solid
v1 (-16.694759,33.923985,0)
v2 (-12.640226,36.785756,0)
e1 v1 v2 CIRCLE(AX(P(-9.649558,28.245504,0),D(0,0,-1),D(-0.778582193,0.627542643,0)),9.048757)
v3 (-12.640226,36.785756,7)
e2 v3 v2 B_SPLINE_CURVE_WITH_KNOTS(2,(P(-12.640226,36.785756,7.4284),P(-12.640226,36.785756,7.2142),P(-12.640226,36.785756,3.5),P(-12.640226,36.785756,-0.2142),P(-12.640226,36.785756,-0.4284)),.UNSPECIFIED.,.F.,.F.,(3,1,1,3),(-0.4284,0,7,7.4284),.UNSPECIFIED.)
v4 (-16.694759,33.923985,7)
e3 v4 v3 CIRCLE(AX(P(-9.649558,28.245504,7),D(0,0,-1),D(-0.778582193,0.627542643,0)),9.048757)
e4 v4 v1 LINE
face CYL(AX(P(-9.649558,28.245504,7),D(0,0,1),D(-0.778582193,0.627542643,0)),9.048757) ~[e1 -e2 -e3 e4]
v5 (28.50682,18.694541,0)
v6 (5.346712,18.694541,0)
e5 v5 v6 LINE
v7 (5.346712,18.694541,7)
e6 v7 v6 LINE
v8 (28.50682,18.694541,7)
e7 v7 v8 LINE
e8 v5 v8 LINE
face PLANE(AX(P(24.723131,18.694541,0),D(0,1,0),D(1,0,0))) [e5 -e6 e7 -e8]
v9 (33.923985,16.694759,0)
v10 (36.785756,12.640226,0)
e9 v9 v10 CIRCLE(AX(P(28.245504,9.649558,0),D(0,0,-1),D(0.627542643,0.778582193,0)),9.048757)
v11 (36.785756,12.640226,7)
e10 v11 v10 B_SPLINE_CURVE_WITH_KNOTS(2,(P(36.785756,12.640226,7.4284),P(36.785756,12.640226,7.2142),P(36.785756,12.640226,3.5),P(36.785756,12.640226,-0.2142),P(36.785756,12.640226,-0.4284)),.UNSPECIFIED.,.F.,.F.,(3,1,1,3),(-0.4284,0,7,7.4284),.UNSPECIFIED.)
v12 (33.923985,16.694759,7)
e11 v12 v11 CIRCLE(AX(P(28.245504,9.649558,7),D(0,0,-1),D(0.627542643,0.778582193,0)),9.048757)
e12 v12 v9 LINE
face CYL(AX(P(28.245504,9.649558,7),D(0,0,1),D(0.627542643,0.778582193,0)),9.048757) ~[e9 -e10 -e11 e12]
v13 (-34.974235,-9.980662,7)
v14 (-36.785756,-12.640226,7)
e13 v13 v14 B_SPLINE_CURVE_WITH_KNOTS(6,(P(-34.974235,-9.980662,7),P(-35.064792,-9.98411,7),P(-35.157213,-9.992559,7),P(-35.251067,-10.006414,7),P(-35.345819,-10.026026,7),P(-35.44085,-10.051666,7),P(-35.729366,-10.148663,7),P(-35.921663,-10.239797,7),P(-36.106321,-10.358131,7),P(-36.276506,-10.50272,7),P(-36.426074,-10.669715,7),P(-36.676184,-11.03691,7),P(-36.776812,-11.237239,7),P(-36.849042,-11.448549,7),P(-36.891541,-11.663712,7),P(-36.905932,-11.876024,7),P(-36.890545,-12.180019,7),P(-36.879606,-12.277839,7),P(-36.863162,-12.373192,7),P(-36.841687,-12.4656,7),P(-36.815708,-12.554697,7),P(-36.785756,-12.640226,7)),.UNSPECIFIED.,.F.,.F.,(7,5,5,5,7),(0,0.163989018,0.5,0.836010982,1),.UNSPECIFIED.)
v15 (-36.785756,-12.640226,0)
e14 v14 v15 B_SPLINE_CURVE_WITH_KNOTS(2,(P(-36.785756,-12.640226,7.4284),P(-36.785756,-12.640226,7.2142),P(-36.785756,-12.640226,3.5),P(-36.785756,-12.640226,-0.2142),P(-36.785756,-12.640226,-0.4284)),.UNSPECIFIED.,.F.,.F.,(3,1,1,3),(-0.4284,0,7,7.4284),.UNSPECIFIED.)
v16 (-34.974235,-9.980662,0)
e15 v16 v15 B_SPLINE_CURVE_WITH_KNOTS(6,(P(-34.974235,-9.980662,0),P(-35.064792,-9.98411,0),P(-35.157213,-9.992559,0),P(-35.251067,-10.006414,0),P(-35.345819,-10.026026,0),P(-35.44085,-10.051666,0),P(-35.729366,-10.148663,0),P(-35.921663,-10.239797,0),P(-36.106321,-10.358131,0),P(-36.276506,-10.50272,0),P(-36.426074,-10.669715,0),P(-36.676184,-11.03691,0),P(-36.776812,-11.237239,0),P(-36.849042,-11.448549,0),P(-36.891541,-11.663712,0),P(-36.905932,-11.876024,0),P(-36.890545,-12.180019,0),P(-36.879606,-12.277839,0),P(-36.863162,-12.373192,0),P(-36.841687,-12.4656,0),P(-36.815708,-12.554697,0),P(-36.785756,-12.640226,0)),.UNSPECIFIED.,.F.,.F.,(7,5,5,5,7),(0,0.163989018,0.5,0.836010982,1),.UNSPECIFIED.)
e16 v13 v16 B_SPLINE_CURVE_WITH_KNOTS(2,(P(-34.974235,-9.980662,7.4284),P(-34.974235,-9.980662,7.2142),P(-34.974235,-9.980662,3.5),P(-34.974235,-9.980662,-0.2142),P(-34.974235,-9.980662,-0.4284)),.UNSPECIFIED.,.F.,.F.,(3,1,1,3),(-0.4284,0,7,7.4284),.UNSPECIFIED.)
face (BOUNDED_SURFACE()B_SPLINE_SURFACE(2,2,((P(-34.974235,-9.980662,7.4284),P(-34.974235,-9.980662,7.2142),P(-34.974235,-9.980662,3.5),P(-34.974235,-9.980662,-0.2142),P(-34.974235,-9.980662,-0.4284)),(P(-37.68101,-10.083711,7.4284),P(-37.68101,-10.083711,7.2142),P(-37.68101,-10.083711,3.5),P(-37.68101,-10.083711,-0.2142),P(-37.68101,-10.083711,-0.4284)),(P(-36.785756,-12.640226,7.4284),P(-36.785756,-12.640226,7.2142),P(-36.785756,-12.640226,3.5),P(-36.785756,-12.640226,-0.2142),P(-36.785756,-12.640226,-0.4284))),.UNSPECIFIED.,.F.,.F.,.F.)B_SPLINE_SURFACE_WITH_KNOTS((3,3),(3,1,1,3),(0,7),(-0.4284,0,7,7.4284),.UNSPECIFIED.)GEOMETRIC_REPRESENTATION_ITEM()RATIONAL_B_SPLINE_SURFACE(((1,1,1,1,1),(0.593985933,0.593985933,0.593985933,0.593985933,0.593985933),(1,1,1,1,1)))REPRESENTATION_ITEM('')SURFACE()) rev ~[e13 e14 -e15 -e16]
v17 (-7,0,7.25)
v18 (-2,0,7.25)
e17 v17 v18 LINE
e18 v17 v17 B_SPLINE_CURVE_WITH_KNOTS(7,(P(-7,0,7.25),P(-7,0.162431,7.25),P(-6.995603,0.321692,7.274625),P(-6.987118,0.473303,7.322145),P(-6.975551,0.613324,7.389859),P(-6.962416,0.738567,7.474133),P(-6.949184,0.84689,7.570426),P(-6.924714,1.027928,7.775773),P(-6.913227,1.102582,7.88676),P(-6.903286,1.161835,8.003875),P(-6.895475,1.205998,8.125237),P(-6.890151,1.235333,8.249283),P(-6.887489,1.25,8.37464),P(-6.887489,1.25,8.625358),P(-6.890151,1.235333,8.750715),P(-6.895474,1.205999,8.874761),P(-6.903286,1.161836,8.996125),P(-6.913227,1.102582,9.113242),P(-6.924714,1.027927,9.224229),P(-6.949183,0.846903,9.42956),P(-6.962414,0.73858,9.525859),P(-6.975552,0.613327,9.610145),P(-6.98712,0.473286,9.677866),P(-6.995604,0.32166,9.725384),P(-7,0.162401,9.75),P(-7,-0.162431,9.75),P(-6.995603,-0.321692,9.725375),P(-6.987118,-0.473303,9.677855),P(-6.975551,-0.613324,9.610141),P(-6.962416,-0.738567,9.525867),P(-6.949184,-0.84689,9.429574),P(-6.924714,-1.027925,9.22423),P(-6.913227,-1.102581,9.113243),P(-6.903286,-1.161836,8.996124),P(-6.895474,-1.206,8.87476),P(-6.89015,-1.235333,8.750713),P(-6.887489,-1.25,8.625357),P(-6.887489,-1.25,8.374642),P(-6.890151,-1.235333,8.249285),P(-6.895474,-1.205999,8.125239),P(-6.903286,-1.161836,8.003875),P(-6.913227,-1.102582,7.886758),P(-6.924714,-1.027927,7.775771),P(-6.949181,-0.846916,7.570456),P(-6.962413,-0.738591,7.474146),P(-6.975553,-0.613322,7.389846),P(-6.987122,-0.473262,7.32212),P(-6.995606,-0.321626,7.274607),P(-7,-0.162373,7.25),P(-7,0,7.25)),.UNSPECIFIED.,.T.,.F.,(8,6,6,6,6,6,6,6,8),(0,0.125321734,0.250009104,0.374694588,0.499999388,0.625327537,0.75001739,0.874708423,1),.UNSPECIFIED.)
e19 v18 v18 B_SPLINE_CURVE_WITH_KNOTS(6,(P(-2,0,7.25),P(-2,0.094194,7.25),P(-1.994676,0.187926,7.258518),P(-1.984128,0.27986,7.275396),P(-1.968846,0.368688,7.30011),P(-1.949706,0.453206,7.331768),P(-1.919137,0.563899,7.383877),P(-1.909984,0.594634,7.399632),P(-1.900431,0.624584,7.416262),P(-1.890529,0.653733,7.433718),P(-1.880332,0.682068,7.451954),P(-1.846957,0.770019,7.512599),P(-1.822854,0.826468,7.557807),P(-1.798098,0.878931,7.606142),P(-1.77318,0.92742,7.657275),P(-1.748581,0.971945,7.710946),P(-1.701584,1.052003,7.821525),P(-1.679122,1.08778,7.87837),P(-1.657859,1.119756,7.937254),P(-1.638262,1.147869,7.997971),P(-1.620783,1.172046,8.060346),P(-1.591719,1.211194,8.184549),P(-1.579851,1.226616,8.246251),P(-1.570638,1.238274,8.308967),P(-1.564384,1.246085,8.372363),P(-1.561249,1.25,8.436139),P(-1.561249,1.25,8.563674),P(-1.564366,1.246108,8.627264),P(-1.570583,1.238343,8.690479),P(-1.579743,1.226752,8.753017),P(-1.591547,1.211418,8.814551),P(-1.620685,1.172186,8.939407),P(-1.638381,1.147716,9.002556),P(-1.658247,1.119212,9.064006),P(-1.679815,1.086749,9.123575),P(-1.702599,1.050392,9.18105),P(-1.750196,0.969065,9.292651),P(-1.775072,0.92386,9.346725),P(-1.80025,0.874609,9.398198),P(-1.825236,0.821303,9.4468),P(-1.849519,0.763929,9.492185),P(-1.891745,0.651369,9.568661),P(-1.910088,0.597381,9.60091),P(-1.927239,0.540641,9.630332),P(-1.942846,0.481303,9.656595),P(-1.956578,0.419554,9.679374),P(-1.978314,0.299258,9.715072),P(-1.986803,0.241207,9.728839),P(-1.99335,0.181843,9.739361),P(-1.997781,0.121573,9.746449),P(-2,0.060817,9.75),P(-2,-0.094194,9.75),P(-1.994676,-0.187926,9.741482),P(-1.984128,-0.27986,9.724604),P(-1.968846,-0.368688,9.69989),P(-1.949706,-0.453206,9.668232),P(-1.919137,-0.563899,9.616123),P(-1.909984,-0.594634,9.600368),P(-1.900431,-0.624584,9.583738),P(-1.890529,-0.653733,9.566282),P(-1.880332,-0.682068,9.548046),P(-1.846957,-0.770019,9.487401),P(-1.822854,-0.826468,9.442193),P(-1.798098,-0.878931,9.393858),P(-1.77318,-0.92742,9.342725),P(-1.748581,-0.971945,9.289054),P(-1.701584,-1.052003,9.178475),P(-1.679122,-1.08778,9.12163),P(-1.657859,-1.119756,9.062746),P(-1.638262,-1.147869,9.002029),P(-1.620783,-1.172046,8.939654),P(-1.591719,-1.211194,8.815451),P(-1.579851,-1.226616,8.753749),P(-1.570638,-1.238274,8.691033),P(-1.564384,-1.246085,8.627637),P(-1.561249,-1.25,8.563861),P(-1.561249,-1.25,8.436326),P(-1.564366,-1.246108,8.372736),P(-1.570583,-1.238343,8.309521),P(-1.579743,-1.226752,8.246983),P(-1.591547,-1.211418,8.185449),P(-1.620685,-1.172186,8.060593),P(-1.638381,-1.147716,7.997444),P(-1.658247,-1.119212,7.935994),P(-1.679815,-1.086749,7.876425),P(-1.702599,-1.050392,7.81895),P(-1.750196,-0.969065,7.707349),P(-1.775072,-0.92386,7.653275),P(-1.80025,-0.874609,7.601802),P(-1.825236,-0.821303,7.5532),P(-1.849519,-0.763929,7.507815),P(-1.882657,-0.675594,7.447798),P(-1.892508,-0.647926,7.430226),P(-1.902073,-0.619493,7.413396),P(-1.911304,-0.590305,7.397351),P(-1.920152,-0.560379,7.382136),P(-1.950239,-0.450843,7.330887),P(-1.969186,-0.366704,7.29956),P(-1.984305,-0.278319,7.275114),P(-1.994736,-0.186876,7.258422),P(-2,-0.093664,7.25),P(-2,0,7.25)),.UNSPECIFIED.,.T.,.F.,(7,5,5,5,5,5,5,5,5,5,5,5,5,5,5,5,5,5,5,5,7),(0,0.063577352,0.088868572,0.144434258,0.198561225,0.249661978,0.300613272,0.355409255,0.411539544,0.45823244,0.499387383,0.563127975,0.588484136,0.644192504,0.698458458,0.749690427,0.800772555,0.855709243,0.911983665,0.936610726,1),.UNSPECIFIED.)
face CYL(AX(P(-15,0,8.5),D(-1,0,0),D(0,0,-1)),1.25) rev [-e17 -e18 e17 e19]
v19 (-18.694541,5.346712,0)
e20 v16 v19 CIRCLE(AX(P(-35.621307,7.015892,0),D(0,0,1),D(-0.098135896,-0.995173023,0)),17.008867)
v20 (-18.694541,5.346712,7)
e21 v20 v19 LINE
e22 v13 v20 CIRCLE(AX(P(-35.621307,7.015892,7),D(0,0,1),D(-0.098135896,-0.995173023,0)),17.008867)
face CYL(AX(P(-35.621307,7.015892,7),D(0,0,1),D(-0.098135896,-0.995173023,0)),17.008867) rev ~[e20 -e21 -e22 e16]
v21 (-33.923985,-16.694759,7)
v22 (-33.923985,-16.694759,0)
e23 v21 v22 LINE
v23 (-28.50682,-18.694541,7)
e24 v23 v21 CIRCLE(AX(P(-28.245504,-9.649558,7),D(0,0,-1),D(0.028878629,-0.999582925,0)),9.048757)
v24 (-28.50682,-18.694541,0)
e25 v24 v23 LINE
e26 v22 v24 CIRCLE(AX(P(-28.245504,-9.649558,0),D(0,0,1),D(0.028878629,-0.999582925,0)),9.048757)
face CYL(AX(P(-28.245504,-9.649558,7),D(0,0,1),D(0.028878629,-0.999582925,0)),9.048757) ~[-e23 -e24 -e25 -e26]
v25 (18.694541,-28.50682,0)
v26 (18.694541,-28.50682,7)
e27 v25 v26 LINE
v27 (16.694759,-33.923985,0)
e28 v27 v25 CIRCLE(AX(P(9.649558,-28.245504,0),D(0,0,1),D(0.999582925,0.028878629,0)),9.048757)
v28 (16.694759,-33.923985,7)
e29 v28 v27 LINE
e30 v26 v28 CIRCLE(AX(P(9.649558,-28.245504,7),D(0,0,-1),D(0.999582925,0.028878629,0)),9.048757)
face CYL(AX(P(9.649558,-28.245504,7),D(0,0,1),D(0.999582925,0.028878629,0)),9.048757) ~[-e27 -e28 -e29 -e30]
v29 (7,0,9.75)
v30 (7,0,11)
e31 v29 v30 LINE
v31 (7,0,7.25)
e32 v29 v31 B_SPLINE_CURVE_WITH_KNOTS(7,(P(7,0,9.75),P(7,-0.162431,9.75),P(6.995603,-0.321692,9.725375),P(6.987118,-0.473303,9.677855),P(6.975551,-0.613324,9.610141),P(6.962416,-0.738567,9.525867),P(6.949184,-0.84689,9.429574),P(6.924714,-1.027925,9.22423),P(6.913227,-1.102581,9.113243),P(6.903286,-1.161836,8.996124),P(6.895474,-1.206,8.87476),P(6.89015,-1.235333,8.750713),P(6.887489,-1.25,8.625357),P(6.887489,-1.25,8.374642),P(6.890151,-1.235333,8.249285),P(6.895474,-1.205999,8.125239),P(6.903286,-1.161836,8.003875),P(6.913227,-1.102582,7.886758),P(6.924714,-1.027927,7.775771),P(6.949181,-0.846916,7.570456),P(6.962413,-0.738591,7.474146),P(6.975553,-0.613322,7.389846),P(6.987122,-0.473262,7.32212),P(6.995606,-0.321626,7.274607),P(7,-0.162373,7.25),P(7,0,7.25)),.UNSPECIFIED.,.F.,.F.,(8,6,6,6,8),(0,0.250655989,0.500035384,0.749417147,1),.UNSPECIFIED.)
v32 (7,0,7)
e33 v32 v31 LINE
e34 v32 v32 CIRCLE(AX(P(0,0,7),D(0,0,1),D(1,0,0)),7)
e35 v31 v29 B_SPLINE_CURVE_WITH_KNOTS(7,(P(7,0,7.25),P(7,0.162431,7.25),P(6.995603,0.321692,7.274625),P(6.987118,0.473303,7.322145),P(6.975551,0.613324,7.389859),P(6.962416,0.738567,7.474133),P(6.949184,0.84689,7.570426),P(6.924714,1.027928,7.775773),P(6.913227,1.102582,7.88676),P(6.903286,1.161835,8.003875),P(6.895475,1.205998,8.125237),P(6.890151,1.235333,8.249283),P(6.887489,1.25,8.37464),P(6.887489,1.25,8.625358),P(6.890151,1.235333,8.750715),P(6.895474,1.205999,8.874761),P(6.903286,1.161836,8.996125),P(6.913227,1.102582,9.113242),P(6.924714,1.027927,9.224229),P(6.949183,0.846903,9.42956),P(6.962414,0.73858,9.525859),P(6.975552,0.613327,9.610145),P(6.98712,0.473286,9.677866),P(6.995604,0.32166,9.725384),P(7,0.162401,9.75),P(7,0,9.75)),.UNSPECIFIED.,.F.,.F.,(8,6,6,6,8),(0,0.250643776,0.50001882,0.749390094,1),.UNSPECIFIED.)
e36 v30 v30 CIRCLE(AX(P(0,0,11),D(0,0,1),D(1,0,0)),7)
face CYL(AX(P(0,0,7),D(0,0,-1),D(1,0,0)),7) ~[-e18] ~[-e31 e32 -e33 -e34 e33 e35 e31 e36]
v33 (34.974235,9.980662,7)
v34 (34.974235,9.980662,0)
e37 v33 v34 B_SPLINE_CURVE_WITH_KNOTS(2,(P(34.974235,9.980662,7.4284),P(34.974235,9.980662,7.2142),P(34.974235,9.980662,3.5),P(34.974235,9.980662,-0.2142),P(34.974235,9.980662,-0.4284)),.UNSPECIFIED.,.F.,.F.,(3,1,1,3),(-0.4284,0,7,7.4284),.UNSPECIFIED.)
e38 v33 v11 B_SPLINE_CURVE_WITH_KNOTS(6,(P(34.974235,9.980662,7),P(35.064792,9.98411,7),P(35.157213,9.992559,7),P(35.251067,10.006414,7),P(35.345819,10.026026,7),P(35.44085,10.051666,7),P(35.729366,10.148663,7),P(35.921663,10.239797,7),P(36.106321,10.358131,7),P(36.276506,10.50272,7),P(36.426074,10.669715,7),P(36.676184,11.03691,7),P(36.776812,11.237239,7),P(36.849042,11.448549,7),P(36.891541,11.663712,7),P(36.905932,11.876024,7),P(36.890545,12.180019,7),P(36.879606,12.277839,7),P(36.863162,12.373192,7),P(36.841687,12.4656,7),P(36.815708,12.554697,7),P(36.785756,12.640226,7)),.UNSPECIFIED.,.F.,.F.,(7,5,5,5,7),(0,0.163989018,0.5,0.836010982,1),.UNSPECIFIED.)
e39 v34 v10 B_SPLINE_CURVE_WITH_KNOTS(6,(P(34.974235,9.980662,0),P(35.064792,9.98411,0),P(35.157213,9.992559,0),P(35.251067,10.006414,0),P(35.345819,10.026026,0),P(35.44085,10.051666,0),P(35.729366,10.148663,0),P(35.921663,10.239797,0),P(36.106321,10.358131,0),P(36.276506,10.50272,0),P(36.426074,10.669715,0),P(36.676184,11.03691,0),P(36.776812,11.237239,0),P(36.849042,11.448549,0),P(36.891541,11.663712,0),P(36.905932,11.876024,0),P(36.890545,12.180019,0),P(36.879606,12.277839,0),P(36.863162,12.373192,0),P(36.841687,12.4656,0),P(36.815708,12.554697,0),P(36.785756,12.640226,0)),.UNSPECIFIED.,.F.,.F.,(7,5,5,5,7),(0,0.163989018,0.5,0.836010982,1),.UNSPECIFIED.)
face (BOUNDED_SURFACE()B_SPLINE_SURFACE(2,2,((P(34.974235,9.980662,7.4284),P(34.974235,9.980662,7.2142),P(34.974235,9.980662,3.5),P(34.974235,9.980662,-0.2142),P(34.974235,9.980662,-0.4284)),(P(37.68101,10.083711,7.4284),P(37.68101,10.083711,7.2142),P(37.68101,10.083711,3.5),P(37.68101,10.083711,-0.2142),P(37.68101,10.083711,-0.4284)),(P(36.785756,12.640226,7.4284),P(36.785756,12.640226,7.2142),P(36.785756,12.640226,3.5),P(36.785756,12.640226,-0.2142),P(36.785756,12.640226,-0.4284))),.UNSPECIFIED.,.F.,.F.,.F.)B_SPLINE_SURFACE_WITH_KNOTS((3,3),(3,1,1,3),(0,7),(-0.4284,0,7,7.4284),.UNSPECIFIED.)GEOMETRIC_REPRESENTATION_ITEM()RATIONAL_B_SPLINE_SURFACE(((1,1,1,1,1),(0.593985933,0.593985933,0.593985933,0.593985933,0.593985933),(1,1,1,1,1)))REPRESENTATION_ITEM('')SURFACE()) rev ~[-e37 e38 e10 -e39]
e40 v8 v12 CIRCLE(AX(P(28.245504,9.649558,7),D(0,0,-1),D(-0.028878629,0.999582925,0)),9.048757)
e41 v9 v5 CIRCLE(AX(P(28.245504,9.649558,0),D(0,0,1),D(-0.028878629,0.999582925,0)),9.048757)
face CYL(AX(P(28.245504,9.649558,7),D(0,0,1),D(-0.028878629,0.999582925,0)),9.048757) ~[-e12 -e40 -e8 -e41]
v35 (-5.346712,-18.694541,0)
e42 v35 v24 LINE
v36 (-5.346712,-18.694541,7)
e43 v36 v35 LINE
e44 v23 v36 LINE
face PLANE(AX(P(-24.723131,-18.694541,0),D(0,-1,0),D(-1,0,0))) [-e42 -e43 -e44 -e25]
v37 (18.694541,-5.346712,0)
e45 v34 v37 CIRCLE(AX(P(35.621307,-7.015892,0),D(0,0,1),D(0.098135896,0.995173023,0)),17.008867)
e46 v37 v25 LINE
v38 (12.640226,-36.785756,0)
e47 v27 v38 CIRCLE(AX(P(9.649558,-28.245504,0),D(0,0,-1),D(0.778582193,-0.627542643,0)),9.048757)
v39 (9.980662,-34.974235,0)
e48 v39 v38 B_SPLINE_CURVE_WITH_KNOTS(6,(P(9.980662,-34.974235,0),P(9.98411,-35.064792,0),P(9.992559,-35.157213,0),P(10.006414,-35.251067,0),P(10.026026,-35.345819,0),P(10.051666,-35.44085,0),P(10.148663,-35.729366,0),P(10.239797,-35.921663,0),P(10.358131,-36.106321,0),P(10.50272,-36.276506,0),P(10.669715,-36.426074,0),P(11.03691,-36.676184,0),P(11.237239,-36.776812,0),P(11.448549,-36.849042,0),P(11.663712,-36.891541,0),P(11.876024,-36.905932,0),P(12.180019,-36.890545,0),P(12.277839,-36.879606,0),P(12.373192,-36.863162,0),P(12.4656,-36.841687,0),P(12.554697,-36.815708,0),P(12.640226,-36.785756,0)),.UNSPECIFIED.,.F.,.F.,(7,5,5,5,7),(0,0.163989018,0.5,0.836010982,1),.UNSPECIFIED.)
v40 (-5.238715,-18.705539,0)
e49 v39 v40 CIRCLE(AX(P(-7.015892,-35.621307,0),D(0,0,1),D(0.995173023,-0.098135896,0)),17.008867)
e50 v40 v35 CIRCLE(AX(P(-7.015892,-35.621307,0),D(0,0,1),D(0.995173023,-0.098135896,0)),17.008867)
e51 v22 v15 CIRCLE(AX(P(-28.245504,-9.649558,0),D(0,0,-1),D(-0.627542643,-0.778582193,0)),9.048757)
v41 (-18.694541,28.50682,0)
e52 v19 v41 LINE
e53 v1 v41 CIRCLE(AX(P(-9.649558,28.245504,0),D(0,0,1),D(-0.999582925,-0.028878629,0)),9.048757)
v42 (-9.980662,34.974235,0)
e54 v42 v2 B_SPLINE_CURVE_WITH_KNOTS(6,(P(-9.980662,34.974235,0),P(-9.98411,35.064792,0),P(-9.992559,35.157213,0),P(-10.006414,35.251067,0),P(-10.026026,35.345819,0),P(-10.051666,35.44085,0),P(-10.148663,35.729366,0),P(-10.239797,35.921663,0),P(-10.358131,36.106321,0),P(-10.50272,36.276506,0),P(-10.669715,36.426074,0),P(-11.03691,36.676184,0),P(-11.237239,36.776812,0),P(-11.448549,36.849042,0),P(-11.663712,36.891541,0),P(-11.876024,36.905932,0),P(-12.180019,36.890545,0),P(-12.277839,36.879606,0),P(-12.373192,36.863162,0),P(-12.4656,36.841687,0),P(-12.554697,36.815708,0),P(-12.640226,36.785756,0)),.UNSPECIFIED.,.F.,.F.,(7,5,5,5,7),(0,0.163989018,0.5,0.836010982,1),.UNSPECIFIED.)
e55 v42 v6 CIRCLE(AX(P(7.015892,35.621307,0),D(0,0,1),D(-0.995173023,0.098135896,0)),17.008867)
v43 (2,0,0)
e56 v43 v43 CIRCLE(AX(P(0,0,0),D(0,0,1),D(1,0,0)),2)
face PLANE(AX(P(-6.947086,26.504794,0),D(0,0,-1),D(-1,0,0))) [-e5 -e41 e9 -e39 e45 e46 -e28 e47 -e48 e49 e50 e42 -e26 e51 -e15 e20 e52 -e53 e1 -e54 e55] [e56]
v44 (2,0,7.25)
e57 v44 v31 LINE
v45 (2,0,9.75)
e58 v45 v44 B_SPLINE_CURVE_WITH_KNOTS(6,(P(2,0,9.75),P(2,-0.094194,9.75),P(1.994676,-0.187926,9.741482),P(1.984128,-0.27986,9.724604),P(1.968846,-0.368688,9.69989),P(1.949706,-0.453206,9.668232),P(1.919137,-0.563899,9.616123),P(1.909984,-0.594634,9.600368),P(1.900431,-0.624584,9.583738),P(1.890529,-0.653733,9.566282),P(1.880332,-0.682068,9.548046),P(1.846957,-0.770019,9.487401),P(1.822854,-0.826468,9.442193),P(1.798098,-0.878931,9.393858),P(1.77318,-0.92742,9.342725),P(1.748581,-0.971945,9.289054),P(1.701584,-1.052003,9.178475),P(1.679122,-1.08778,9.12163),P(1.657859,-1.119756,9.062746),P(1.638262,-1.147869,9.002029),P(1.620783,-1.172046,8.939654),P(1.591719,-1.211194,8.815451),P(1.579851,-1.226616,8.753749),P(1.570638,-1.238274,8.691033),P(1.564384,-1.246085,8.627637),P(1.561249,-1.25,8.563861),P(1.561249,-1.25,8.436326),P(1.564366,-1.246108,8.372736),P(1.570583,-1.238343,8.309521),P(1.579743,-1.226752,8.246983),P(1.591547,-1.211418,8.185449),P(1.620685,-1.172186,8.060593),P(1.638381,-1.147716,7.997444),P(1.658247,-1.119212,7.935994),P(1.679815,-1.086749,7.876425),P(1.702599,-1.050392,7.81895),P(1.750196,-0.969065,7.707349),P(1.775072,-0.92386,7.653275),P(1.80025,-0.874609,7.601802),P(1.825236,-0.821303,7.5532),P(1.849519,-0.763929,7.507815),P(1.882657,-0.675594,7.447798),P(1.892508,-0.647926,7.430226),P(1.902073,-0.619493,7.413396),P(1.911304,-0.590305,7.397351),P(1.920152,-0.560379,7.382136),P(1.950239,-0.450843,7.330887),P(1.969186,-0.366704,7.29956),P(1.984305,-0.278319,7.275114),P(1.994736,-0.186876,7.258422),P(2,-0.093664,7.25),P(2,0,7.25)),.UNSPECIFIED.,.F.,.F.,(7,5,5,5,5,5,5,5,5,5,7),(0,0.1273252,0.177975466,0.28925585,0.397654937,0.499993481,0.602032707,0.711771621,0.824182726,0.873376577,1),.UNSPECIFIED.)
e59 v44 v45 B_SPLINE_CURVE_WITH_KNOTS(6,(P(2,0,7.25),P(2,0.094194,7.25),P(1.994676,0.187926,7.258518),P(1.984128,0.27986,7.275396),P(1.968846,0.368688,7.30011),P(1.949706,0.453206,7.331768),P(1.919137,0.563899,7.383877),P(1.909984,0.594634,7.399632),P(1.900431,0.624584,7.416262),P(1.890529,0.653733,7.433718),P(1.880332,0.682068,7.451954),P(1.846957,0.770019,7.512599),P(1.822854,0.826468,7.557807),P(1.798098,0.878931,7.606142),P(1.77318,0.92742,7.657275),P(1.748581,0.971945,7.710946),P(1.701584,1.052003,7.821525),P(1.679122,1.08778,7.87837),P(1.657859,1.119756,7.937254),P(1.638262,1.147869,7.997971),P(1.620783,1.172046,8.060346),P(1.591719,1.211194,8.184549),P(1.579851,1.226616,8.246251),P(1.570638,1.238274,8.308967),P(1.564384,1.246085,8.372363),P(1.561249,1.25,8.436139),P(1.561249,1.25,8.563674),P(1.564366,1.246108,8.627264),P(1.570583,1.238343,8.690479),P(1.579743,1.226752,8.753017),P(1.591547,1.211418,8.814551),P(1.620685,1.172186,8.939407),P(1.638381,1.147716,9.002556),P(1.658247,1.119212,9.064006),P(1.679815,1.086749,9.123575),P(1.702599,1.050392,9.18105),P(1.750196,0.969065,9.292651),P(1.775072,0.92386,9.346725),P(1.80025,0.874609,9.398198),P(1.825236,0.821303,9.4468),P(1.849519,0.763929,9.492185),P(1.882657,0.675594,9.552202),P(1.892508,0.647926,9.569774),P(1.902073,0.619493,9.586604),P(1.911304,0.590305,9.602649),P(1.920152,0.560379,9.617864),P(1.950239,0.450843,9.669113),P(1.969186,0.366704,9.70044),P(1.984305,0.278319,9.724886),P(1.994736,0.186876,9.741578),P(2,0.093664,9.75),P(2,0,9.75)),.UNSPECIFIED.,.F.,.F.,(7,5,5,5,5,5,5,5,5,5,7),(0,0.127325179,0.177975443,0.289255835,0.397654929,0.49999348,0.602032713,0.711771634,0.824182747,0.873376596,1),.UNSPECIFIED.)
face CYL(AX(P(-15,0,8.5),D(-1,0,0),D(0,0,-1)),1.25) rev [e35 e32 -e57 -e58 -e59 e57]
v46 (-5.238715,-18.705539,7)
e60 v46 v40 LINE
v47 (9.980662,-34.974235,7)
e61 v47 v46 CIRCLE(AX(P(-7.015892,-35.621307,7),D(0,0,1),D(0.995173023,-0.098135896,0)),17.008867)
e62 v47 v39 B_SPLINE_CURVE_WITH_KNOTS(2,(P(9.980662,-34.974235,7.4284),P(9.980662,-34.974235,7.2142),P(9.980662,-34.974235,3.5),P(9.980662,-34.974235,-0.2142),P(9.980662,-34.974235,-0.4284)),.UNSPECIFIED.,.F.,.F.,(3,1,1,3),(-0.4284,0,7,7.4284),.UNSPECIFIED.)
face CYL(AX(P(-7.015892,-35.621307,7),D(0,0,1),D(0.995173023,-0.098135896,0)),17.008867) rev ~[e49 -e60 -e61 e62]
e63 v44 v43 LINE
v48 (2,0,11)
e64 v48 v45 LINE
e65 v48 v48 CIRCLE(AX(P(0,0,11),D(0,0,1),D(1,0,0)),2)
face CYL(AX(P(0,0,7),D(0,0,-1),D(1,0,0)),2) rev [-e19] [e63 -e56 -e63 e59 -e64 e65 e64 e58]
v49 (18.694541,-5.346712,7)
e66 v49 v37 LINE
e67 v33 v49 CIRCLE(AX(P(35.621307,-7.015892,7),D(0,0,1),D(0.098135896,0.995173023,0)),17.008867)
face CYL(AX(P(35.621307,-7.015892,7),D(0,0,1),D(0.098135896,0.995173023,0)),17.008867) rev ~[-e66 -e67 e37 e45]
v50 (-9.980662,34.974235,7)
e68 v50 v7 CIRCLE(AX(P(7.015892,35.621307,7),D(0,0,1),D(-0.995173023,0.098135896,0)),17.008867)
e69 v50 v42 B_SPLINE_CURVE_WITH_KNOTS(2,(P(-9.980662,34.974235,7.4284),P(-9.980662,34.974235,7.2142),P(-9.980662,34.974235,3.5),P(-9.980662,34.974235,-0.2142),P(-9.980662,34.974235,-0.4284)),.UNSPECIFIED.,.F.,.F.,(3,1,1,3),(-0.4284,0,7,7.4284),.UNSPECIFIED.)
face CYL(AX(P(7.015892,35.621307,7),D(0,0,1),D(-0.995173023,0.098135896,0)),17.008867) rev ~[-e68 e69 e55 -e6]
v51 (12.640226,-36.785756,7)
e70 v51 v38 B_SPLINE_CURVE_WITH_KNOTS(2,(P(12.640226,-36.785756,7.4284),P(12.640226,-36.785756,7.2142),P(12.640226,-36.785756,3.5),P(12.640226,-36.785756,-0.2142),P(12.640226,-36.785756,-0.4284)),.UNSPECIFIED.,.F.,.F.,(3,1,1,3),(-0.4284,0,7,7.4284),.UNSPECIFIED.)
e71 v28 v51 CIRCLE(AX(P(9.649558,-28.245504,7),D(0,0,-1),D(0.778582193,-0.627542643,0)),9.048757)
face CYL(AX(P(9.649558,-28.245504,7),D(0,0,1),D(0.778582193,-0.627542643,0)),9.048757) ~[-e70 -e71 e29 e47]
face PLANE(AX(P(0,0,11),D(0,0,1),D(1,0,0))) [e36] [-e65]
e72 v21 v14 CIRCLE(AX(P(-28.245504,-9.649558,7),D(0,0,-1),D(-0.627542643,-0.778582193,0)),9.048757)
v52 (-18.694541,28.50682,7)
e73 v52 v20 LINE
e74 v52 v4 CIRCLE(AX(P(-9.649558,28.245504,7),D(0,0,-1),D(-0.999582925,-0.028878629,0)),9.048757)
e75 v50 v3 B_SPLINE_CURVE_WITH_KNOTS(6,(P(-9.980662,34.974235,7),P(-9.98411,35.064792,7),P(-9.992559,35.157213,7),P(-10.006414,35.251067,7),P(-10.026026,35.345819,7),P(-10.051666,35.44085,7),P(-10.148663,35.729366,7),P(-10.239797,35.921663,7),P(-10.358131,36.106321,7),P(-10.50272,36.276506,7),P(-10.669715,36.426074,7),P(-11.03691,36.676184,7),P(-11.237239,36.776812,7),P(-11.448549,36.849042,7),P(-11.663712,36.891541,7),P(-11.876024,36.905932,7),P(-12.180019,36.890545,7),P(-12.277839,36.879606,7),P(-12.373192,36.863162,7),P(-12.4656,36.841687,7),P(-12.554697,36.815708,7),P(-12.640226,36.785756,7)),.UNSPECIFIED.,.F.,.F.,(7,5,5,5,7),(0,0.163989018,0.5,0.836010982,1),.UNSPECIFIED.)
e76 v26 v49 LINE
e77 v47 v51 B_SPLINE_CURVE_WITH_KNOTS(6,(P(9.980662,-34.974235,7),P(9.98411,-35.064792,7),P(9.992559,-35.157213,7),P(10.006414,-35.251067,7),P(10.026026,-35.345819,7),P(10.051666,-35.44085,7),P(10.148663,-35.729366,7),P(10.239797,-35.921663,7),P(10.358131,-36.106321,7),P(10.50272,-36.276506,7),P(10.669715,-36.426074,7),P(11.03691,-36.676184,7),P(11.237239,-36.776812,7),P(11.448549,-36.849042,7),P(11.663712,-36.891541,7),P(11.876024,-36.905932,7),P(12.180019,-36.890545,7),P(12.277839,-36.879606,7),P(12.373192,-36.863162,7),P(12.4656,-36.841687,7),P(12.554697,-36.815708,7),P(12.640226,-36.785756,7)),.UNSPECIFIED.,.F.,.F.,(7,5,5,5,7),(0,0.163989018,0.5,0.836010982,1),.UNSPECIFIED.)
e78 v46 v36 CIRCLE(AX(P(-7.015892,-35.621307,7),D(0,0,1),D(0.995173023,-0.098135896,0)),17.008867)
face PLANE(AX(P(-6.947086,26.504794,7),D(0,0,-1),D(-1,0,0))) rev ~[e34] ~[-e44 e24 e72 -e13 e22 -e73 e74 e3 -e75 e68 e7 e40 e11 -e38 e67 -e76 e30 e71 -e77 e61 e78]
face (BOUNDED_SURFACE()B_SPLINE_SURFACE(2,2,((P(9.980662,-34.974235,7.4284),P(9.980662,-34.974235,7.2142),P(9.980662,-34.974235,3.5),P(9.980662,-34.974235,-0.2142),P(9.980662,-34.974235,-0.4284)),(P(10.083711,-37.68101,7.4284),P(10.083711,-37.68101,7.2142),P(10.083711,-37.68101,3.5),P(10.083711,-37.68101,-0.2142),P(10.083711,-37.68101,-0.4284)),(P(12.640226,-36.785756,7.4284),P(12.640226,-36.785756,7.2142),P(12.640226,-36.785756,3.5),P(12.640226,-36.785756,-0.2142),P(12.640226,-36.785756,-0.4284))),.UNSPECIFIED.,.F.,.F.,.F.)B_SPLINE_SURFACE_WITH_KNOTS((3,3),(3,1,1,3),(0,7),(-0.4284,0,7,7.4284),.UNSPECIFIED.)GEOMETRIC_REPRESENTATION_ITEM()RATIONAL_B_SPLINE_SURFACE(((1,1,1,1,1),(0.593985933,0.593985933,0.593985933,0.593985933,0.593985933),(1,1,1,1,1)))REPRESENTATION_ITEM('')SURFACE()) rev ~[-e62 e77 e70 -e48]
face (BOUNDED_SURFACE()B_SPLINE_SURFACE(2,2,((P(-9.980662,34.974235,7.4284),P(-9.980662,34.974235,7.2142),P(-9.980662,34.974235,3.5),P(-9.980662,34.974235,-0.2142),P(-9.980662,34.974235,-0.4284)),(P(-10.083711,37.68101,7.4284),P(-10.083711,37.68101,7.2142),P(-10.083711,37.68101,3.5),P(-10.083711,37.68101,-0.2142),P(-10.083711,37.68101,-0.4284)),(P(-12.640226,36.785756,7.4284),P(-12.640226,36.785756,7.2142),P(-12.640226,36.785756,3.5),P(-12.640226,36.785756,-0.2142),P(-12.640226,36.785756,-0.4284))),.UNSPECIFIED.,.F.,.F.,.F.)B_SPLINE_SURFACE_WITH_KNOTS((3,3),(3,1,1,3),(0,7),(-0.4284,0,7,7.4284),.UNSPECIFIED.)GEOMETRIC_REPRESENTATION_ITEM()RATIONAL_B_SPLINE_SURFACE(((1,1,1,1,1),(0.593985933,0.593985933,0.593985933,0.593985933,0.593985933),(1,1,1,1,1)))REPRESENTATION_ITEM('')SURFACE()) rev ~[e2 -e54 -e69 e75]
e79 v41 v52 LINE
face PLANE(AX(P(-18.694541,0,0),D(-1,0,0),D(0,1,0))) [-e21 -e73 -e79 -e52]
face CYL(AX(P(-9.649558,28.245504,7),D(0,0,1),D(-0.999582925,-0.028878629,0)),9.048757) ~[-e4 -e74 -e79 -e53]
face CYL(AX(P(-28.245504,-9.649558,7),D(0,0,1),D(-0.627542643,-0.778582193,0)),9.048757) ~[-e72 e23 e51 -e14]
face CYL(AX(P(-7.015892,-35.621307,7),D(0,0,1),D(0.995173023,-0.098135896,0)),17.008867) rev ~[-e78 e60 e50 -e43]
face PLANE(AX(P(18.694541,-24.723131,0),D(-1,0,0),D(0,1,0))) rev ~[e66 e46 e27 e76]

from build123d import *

# Parameters (mm, degrees)
SKETCH_1_R               = 2
EXTRUDE_1_DEPTH          = 7
SKETCH_5_R               = 7
SKETCH_5_R_2             = 2
EXTRUDE_2_DEPTH          = 4
CUT_EXTRUDE_5_DEPTH      = 8
CUT_EXTRUDE_5_DEPTH_BACK = 15
SKETCH_13_R              = 82.694540834
CUT_EXTRUDE_13_DEPTH     = 10
FILLET_1_R               = 2
FILLET_2_R               = 2
EXTRUDE_5_DEPTH          = 7
CUT_EXTRUDE_14_DEPTH     = 10
FILLET_3_R               = 3
FILLET_4_R               = 1
EXTRUDE_START            = -7
EXTRUDE_6_DEPTH          = 7
SKETCH_18_R              = 47.238796546
CUT_EXTRUDE_15_DEPTH     = 10
FILLET_5_R               = 2


with BuildPart() as part:
    # 草图1 → 凸台-拉伸1 (new body)
    with BuildSketch(Plane.XY):
        with BuildLine():
            ThreePointArc((32.8, 22.894540834), (36.610888994, 26.155959788), (40.879786515, 28.789634497))
            ThreePointArc((40.879786515, 28.789634497), (35.355339059, 35.355339059), (28.789634497, 40.879786515))
            ThreePointArc((28.789634497, 40.879786515), (26.155959788, 36.610888994), (22.894540834, 32.8))
            ThreePointArc((22.894540834, 32.8), (0, 23.316770682), (-22.894540834, 32.8))
            ThreePointArc((-22.894540834, 32.8), (-26.155959788, 36.610888994), (-28.789634497, 40.879786515))
            ThreePointArc((-28.789634497, 40.879786515), (-35.355339059, 35.355339059), (-40.879786515, 28.789634497))
            ThreePointArc((-40.879786515, 28.789634497), (-36.610888994, 26.155959788), (-32.8, 22.894540834))
            ThreePointArc((-32.8, 22.894540834), (-23.316770682, 0), (-32.8, -22.894540834))
            ThreePointArc((-32.8, -22.894540834), (-36.610888994, -26.155959788), (-40.879786515, -28.789634497))
            ThreePointArc((-40.879786515, -28.789634497), (-35.355339059, -35.355339059), (-28.789634497, -40.879786515))
            ThreePointArc((-28.789634497, -40.879786515), (-26.155959788, -36.610888994), (-22.894540834, -32.8))
            ThreePointArc((-22.894540834, -32.8), (0, -23.316770682), (22.894540834, -32.8))
            ThreePointArc((22.894540834, -32.8), (26.155959788, -36.610888994), (28.789634497, -40.879786515))
            ThreePointArc((28.789634497, -40.879786515), (35.355339059, -35.355339059), (40.879786515, -28.789634497))
            ThreePointArc((40.879786515, -28.789634497), (36.610888994, -26.155959788), (32.8, -22.894540834))
            ThreePointArc((32.8, -22.894540834), (23.316770682, 0), (32.8, 22.894540834))
        make_face()
        Circle(SKETCH_1_R, mode=Mode.SUBTRACT)
    extrude(amount=EXTRUDE_1_DEPTH)

    # 草图5 → 凸台-拉伸2 (add)
    with BuildSketch(Plane.XY.offset(7)):
        Circle(SKETCH_5_R)
        Circle(SKETCH_5_R_2, mode=Mode.SUBTRACT)
    extrude(amount=EXTRUDE_2_DEPTH)

    # 草图11 → 切除-拉伸5 (cut, two sides: drawn at the far end of the back side and taken through both)
    with BuildSketch(Plane(origin=(0, 0, 0), x_dir=(0, 0, -1), z_dir=(1, 0, 0)).offset(-CUT_EXTRUDE_5_DEPTH_BACK)):
        with BuildLine():
            ThreePointArc((-9.75, 0), (-8.5, -1.25), (-7.25, 0))
            Line((-7.25, 0), (-9.75, 0))
        make_face()
        with BuildLine():
            Line((-9.75, 0), (-7.25, 0))
            ThreePointArc((-7.25, 0), (-8.5, 1.25), (-9.75, 0))
        make_face()
    extrude(amount=CUT_EXTRUDE_5_DEPTH + CUT_EXTRUDE_5_DEPTH_BACK, mode=Mode.SUBTRACT)

    # 草图13 → 切除-拉伸13 (cut)
    with BuildSketch(Plane(origin=(0, 0, 0), x_dir=(-1, 0, 0), z_dir=(0, 0, -1))):
        Circle(SKETCH_13_R)
        with BuildLine():
            ThreePointArc((-25.243635923, 31.028355505), (0, 18.694540834), (25.243635923, 31.028355505))
            ThreePointArc((25.243635923, 31.028355505), (28.284271247, 28.284271247), (31.028355505, 25.243635923))
            ThreePointArc((31.028355505, 25.243635923), (18.694540834, 0), (31.028355505, -25.243635923))
            ThreePointArc((31.028355505, -25.243635923), (28.284271247, -28.284271247), (25.243635923, -31.028355505))
            ThreePointArc((25.243635923, -31.028355505), (0, -18.694540834), (-25.243635923, -31.028355505))
            ThreePointArc((-25.243635923, -31.028355505), (-28.284271247, -28.284271247), (-31.028355505, -25.243635923))
            ThreePointArc((-31.028355505, -25.243635923), (-18.694540834, 0), (-31.028355505, 25.243635923))
            ThreePointArc((-31.028355505, 25.243635923), (-28.284271247, 28.284271247), (-25.243635923, 31.028355505))
        make_face(mode=Mode.SUBTRACT)
    extrude(amount=-CUT_EXTRUDE_13_DEPTH, mode=Mode.SUBTRACT)

    # 圆角1
    fillet_1_edges = [part.edges().sort_by_distance(p)[0] for p in [
        (25.243635923, 31.028355505, 3.5),
        (-31.028355505, 25.243635923, 3.5),
        (-31.028355505, -25.243635923, 3.5),
        (31.028355505, -25.243635923, 3.5),
    ]]
    fillet(fillet_1_edges, radius=FILLET_1_R)

    # 圆角2
    fillet_2_edges = [part.edges().sort_by_distance(p)[0] for p in [
        (-25.243635923, 31.028355505, 3.5),
        (-25.243635923, -31.028355505, 3.5),
        (25.243635923, -31.028355505, 3.5),
        (31.028355505, 25.243635923, 3.5),
    ]]
    fillet(fillet_2_edges, radius=FILLET_2_R)

    # 草图14 → 凸台-拉伸5 (add)
    with BuildSketch(Plane(origin=(0, 0, 0), x_dir=(-1, 0, 0), z_dir=(0, 0, -1))):
        with BuildLine():
            ThreePointArc((13.801737807, 34.095635208), (10.090539986, 23.536654529), (0, 18.694540834))
            ThreePointArc((0, 18.694540834), (9.821274778, 20.238957409), (18.694540834, 24.723130726))
            Line((18.694540834, 24.723130726), (18.694540834, 34.095635208))
            Line((18.694540834, 34.095635208), (13.801737807, 34.095635208))
        make_face()
        with BuildLine():
            ThreePointArc((-18.694540834, 0), (-20.238957409, 9.821274778), (-24.723130726, 18.694540834))
            Line((-24.723130726, 18.694540834), (-34.095635208, 18.694540834))
            Line((-34.095635208, 18.694540834), (-34.095635208, 13.801737807))
            ThreePointArc((-34.095635208, 13.801737807), (-23.536654529, 10.090539986), (-18.694540834, 0))
        make_face()
        with BuildLine():
            ThreePointArc((34.095635208, -13.801737807), (23.536654529, -10.090539986), (18.694540834, 0))
            ThreePointArc((18.694540834, 0), (20.238957409, -9.821274778), (24.723130726, -18.694540834))
            Line((24.723130726, -18.694540834), (34.095635208, -18.694540834))
            Line((34.095635208, -18.694540834), (34.095635208, -13.801737807))
        make_face()
        with BuildLine():
            ThreePointArc((0, -18.694540834), (-9.821274778, -20.238957409), (-18.694540834, -24.723130726))
            Line((-18.694540834, -24.723130726), (-18.694540834, -34.095635208))
            Line((-18.694540834, -34.095635208), (-13.801737807, -34.095635208))
            ThreePointArc((-13.801737807, -34.095635208), (-10.090539986, -23.536654529), (0, -18.694540834))
        make_face()
    extrude(amount=-EXTRUDE_5_DEPTH)

    # 草图15 → 切除-拉伸14 (cut)
    with BuildSketch(Plane(origin=(0, 0, 0), x_dir=(-1, 0, 0), z_dir=(0, 0, -1))):
        with BuildLine():
            Line((-24.723130726, 18.694540834), (-33.334723843, 25.692106251))
            Line((-33.334723843, 25.692106251), (-12.530174443, 42.497606237))
            Line((-12.530174443, 42.497606237), (0, 18.694540834))
            ThreePointArc((0, 18.694540834), (-13.155803158, 21.523924741), (-23.985180208, 29.51173813))
            ThreePointArc((-23.985180208, 29.51173813), (-25.372019669, 30.184661343), (-26.825530496, 29.671382064))
            ThreePointArc((-26.825530496, 29.671382064), (-28.284271247, 28.284271247), (-29.671382064, 26.825530496))
            ThreePointArc((-29.671382064, 26.825530496), (-30.184661343, 25.372019669), (-29.51173813, 23.985180208))
            ThreePointArc((-29.51173813, 23.985180208), (-26.969497889, 21.473759272), (-24.723130726, 18.694540834))
        make_face()
        with BuildLine():
            Line((-24.723130726, 18.694540834), (0, 18.694540834))
            ThreePointArc((0, 18.694540834), (-13.155803158, 21.523924741), (-23.985180208, 29.51173813))
            ThreePointArc((-23.985180208, 29.51173813), (-25.372019669, 30.184661343), (-26.825530496, 29.671382064))
            ThreePointArc((-26.825530496, 29.671382064), (-28.284271247, 28.284271247), (-29.671382064, 26.825530496))
            ThreePointArc((-29.671382064, 26.825530496), (-30.184661343, 25.372019669), (-29.51173813, 23.985180208))
            ThreePointArc((-29.51173813, 23.985180208), (-26.969497889, 21.473759272), (-24.723130726, 18.694540834))
        make_face()
        with BuildLine():
            Line((18.694540834, 0), (18.694540834, 24.723130726))
            ThreePointArc((18.694540834, 24.723130726), (21.473759272, 26.969497889), (23.985180208, 29.51173813))
            ThreePointArc((23.985180208, 29.51173813), (25.372019669, 30.184661343), (26.825530496, 29.671382064))
            ThreePointArc((26.825530496, 29.671382064), (28.284271247, 28.284271247), (29.671382064, 26.825530496))
            ThreePointArc((29.671382064, 26.825530496), (30.184661343, 25.372019669), (29.51173813, 23.985180208))
            ThreePointArc((29.51173813, 23.985180208), (21.523924741, 13.155803158), (18.694540834, 0))
        make_face()
        with BuildLine():
            Line((18.694540834, 24.723130726), (25.692106251, 33.334723843))
            Line((25.692106251, 33.334723843), (42.497606237, 12.530174443))
            Line((42.497606237, 12.530174443), (18.694540834, 0))
            ThreePointArc((18.694540834, 0), (21.523924741, 13.155803158), (29.51173813, 23.985180208))
            ThreePointArc((29.51173813, 23.985180208), (30.184661343, 25.372019669), (29.671382064, 26.825530496))
            ThreePointArc((29.671382064, 26.825530496), (28.284271247, 28.284271247), (26.825530496, 29.671382064))
            ThreePointArc((26.825530496, 29.671382064), (25.372019669, 30.184661343), (23.985180208, 29.51173813))
            ThreePointArc((23.985180208, 29.51173813), (21.473759272, 26.969497889), (18.694540834, 24.723130726))
        make_face()
        with BuildLine():
            ThreePointArc((29.51173813, -23.985180208), (26.969497889, -21.473759272), (24.723130726, -18.694540834))
            Line((24.723130726, -18.694540834), (0.927061706, -18.707972456))
            ThreePointArc((0.927061706, -18.707972456), (13.577013202, -21.717572178), (23.985180208, -29.51173813))
            ThreePointArc((23.985180208, -29.51173813), (25.372019669, -30.184661343), (26.825530496, -29.671382064))
            ThreePointArc((26.825530496, -29.671382064), (28.284271247, -28.284271247), (29.671382064, -26.825530496))
            ThreePointArc((29.671382064, -26.825530496), (30.184661343, -25.372019669), (29.51173813, -23.985180208))
        make_face()
        with BuildLine():
            Line((24.723130726, -18.694540834), (33.334723843, -25.692106251))
            Line((33.334723843, -25.692106251), (12.530174443, -42.497606237))
            Line((12.530174443, -42.497606237), (0, -18.694540834))
            ThreePointArc((0, -18.694540834), (13.155803158, -21.523924741), (23.985180208, -29.51173813))
            ThreePointArc((23.985180208, -29.51173813), (25.372019669, -30.184661343), (26.825530496, -29.671382064))
            ThreePointArc((26.825530496, -29.671382064), (28.284271247, -28.284271247), (29.671382064, -26.825530496))
            ThreePointArc((29.671382064, -26.825530496), (30.184661343, -25.372019669), (29.51173813, -23.985180208))
            ThreePointArc((29.51173813, -23.985180208), (26.969497889, -21.473759272), (24.723130726, -18.694540834))
        make_face()
        with BuildLine():
            Line((-42.497606237, -12.530174443), (-18.694540834, 0))
            ThreePointArc((-18.694540834, 0), (-21.523924741, -13.155803158), (-29.51173813, -23.985180208))
            ThreePointArc((-29.51173813, -23.985180208), (-30.184661343, -25.372019669), (-29.671382064, -26.825530496))
            ThreePointArc((-29.671382064, -26.825530496), (-28.284271247, -28.284271247), (-26.825530496, -29.671382064))
            ThreePointArc((-26.825530496, -29.671382064), (-25.372019669, -30.184661343), (-23.985180208, -29.51173813))
            ThreePointArc((-23.985180208, -29.51173813), (-21.473759272, -26.969497889), (-18.694540834, -24.723130726))
            Line((-18.694540834, -24.723130726), (-25.692106251, -33.334723843))
            Line((-25.692106251, -33.334723843), (-42.497606237, -12.530174443))
        make_face()
        with BuildLine():
            Line((-18.694540834, -24.723130726), (-18.694540834, 0))
            ThreePointArc((-18.694540834, 0), (-21.523924741, -13.155803158), (-29.51173813, -23.985180208))
            ThreePointArc((-29.51173813, -23.985180208), (-30.184661343, -25.372019669), (-29.671382064, -26.825530496))
            ThreePointArc((-29.671382064, -26.825530496), (-28.284271247, -28.284271247), (-26.825530496, -29.671382064))
            ThreePointArc((-26.825530496, -29.671382064), (-25.372019669, -30.184661343), (-23.985180208, -29.51173813))
            ThreePointArc((-23.985180208, -29.51173813), (-21.473759272, -26.969497889), (-18.694540834, -24.723130726))
        make_face()
    extrude(amount=-CUT_EXTRUDE_14_DEPTH, mode=Mode.SUBTRACT)

    # 圆角3
    fillet_3_edges = [part.edges().sort_by_distance(p)[0] for p in [
        (34.095635208, 18.694540834, 3.5),
        (-18.694540834, 34.095635208, 3.5),
        (-34.095635208, -18.694540834, 3.5),
        (18.694540834, -34.095635208, 3.5),
    ]]
    fillet(fillet_3_edges, radius=FILLET_3_R)

    # 圆角4
    fillet_4_edges = [part.edges().sort_by_distance(p)[0] for p in [
        (-13.801737807, 34.095635208, 3.5),
        (-34.095635208, -13.801737807, 3.5),
        (13.801737807, -34.095635208, 3.5),
        (34.095635208, 13.801737807, 3.5),
    ]]
    fillet(fillet_4_edges, radius=FILLET_4_R)

    # 草图16 → 凸台-拉伸6 (add)
    with BuildSketch(Plane(origin=(0, 0, 0), x_dir=(-1, 0, 0), z_dir=(0, 0, -1)).offset(EXTRUDE_START)):
        with BuildLine():
            ThreePointArc((9.910873566, 37.290487321), (6.133427391, 24.832564637), (-5.346712023, 18.694540834))
            Line((-5.346712023, 18.694540834), (0, 18.694540834))
            ThreePointArc((0, 18.694540834), (9.754847949, 23.174553207), (13.822417362, 33.108457194))
            ThreePointArc((13.822417362, 33.108457194), (14.119776258, 33.807260807), (14.822335157, 34.095635208))
            Line((14.822335157, 34.095635208), (15.694540834, 34.095635208))
            ThreePointArc((15.694540834, 34.095635208), (16.201960761, 34.052411326), (16.694758916, 33.923985219))
            ThreePointArc((16.694758916, 33.923985219), (13.671949052, 36.351080947), (9.910873566, 37.290487321))
        make_face()
        with BuildLine():
            ThreePointArc((-37.290487321, 9.910873566), (-24.832564637, 6.133427391), (-18.694540834, -5.346712023))
            Line((-18.694540834, -5.346712023), (-18.694540834, 0))
            ThreePointArc((-18.694540834, 0), (-23.174553207, 9.754847949), (-33.108457194, 13.822417362))
            ThreePointArc((-33.108457194, 13.822417362), (-33.807260807, 14.119776258), (-34.095635208, 14.822335157))
            Line((-34.095635208, 14.822335157), (-34.095635208, 15.694540834))
            ThreePointArc((-34.095635208, 15.694540834), (-34.052411326, 16.201960761), (-33.923985219, 16.694758916))
            ThreePointArc((-33.923985219, 16.694758916), (-36.351080947, 13.671949052), (-37.290487321, 9.910873566))
        make_face()
        with BuildLine():
            ThreePointArc((-9.910873566, -37.290487321), (-6.167788996, -24.874581099), (5.238714674, -18.705538756))
            Line((5.238714674, -18.705538756), (0.927061706, -18.707972456))
            ThreePointArc((0.927061706, -18.707972456), (0.463579501, -18.697898916), (0, -18.694540834))
            ThreePointArc((0, -18.694540834), (-9.754847949, -23.174553207), (-13.822417362, -33.108457194))
            ThreePointArc((-13.822417362, -33.108457194), (-14.119776258, -33.807260807), (-14.822335157, -34.095635208))
            Line((-14.822335157, -34.095635208), (-15.694540834, -34.095635208))
            ThreePointArc((-15.694540834, -34.095635208), (-16.201960761, -34.052411326), (-16.694758916, -33.923985219))
            ThreePointArc((-16.694758916, -33.923985219), (-13.671949052, -36.351080947), (-9.910873566, -37.290487321))
        make_face()
        with BuildLine():
            ThreePointArc((37.290487321, -9.910873566), (24.832564637, -6.133427391), (18.694540834, 5.346712023))
            Line((18.694540834, 5.346712023), (18.694540834, 0))
            ThreePointArc((18.694540834, 0), (23.174553207, -9.754847949), (33.108457194, -13.822417362))
            ThreePointArc((33.108457194, -13.822417362), (33.807260807, -14.119776258), (34.095635208, -14.822335157))
            Line((34.095635208, -14.822335157), (34.095635208, -15.694540834))
            ThreePointArc((34.095635208, -15.694540834), (34.052411326, -16.201960761), (33.923985219, -16.694758916))
            ThreePointArc((33.923985219, -16.694758916), (36.351080947, -13.671949052), (37.290487321, -9.910873566))
        make_face()
    extrude(amount=EXTRUDE_6_DEPTH)

    # 草图18 → 切除-拉伸15 (cut)
    with BuildSketch(Plane.XY.offset(7)):
        Circle(SKETCH_18_R)
        with BuildLine():
            Line((5.346712023, 18.694540834), (27.984188654, 18.694540834))
            ThreePointArc((27.984188654, 18.694540834), (34.456495042, 16.230104762), (37.290487321, 9.910873566))
            ThreePointArc((37.290487321, 9.910873566), (24.832564637, 6.133427391), (18.694540834, -5.346712023))
            Line((18.694540834, -5.346712023), (18.694540834, -27.984188654))
            ThreePointArc((18.694540834, -27.984188654), (16.230104762, -34.456495042), (9.910873566, -37.290487321))
            ThreePointArc((9.910873566, -37.290487321), (6.133427391, -24.832564637), (-5.346712023, -18.694540834))
            Line((-5.346712023, -18.694540834), (-27.984188654, -18.694540834))
            ThreePointArc((-27.984188654, -18.694540834), (-34.456495042, -16.230104762), (-37.290487321, -9.910873566))
            ThreePointArc((-37.290487321, -9.910873566), (-24.832564637, -6.133427391), (-18.694540834, 5.346712023))
            Line((-18.694540834, 5.346712023), (-18.694540834, 27.984188654))
            ThreePointArc((-18.694540834, 27.984188654), (-16.230104762, 34.456495042), (-9.910873566, 37.290487321))
            ThreePointArc((-9.910873566, 37.290487321), (-6.133427391, 24.832564637), (5.346712023, 18.694540834))
        make_face(mode=Mode.SUBTRACT)
    extrude(amount=-CUT_EXTRUDE_15_DEPTH, mode=Mode.SUBTRACT)

    # 圆角5
    fillet_5_edges = [part.edges().sort_by_distance(p)[0] for p in [
        (-9.910873566, 37.290487321, 3.5),
        (37.290487321, 9.910873566, 3.5),
        (9.910873566, -37.290487321, 3.5),
        (-37.290487321, -9.910873566, 3.5),
    ]]
    fillet(fillet_5_edges, radius=FILLET_5_R)


solid = part.part
